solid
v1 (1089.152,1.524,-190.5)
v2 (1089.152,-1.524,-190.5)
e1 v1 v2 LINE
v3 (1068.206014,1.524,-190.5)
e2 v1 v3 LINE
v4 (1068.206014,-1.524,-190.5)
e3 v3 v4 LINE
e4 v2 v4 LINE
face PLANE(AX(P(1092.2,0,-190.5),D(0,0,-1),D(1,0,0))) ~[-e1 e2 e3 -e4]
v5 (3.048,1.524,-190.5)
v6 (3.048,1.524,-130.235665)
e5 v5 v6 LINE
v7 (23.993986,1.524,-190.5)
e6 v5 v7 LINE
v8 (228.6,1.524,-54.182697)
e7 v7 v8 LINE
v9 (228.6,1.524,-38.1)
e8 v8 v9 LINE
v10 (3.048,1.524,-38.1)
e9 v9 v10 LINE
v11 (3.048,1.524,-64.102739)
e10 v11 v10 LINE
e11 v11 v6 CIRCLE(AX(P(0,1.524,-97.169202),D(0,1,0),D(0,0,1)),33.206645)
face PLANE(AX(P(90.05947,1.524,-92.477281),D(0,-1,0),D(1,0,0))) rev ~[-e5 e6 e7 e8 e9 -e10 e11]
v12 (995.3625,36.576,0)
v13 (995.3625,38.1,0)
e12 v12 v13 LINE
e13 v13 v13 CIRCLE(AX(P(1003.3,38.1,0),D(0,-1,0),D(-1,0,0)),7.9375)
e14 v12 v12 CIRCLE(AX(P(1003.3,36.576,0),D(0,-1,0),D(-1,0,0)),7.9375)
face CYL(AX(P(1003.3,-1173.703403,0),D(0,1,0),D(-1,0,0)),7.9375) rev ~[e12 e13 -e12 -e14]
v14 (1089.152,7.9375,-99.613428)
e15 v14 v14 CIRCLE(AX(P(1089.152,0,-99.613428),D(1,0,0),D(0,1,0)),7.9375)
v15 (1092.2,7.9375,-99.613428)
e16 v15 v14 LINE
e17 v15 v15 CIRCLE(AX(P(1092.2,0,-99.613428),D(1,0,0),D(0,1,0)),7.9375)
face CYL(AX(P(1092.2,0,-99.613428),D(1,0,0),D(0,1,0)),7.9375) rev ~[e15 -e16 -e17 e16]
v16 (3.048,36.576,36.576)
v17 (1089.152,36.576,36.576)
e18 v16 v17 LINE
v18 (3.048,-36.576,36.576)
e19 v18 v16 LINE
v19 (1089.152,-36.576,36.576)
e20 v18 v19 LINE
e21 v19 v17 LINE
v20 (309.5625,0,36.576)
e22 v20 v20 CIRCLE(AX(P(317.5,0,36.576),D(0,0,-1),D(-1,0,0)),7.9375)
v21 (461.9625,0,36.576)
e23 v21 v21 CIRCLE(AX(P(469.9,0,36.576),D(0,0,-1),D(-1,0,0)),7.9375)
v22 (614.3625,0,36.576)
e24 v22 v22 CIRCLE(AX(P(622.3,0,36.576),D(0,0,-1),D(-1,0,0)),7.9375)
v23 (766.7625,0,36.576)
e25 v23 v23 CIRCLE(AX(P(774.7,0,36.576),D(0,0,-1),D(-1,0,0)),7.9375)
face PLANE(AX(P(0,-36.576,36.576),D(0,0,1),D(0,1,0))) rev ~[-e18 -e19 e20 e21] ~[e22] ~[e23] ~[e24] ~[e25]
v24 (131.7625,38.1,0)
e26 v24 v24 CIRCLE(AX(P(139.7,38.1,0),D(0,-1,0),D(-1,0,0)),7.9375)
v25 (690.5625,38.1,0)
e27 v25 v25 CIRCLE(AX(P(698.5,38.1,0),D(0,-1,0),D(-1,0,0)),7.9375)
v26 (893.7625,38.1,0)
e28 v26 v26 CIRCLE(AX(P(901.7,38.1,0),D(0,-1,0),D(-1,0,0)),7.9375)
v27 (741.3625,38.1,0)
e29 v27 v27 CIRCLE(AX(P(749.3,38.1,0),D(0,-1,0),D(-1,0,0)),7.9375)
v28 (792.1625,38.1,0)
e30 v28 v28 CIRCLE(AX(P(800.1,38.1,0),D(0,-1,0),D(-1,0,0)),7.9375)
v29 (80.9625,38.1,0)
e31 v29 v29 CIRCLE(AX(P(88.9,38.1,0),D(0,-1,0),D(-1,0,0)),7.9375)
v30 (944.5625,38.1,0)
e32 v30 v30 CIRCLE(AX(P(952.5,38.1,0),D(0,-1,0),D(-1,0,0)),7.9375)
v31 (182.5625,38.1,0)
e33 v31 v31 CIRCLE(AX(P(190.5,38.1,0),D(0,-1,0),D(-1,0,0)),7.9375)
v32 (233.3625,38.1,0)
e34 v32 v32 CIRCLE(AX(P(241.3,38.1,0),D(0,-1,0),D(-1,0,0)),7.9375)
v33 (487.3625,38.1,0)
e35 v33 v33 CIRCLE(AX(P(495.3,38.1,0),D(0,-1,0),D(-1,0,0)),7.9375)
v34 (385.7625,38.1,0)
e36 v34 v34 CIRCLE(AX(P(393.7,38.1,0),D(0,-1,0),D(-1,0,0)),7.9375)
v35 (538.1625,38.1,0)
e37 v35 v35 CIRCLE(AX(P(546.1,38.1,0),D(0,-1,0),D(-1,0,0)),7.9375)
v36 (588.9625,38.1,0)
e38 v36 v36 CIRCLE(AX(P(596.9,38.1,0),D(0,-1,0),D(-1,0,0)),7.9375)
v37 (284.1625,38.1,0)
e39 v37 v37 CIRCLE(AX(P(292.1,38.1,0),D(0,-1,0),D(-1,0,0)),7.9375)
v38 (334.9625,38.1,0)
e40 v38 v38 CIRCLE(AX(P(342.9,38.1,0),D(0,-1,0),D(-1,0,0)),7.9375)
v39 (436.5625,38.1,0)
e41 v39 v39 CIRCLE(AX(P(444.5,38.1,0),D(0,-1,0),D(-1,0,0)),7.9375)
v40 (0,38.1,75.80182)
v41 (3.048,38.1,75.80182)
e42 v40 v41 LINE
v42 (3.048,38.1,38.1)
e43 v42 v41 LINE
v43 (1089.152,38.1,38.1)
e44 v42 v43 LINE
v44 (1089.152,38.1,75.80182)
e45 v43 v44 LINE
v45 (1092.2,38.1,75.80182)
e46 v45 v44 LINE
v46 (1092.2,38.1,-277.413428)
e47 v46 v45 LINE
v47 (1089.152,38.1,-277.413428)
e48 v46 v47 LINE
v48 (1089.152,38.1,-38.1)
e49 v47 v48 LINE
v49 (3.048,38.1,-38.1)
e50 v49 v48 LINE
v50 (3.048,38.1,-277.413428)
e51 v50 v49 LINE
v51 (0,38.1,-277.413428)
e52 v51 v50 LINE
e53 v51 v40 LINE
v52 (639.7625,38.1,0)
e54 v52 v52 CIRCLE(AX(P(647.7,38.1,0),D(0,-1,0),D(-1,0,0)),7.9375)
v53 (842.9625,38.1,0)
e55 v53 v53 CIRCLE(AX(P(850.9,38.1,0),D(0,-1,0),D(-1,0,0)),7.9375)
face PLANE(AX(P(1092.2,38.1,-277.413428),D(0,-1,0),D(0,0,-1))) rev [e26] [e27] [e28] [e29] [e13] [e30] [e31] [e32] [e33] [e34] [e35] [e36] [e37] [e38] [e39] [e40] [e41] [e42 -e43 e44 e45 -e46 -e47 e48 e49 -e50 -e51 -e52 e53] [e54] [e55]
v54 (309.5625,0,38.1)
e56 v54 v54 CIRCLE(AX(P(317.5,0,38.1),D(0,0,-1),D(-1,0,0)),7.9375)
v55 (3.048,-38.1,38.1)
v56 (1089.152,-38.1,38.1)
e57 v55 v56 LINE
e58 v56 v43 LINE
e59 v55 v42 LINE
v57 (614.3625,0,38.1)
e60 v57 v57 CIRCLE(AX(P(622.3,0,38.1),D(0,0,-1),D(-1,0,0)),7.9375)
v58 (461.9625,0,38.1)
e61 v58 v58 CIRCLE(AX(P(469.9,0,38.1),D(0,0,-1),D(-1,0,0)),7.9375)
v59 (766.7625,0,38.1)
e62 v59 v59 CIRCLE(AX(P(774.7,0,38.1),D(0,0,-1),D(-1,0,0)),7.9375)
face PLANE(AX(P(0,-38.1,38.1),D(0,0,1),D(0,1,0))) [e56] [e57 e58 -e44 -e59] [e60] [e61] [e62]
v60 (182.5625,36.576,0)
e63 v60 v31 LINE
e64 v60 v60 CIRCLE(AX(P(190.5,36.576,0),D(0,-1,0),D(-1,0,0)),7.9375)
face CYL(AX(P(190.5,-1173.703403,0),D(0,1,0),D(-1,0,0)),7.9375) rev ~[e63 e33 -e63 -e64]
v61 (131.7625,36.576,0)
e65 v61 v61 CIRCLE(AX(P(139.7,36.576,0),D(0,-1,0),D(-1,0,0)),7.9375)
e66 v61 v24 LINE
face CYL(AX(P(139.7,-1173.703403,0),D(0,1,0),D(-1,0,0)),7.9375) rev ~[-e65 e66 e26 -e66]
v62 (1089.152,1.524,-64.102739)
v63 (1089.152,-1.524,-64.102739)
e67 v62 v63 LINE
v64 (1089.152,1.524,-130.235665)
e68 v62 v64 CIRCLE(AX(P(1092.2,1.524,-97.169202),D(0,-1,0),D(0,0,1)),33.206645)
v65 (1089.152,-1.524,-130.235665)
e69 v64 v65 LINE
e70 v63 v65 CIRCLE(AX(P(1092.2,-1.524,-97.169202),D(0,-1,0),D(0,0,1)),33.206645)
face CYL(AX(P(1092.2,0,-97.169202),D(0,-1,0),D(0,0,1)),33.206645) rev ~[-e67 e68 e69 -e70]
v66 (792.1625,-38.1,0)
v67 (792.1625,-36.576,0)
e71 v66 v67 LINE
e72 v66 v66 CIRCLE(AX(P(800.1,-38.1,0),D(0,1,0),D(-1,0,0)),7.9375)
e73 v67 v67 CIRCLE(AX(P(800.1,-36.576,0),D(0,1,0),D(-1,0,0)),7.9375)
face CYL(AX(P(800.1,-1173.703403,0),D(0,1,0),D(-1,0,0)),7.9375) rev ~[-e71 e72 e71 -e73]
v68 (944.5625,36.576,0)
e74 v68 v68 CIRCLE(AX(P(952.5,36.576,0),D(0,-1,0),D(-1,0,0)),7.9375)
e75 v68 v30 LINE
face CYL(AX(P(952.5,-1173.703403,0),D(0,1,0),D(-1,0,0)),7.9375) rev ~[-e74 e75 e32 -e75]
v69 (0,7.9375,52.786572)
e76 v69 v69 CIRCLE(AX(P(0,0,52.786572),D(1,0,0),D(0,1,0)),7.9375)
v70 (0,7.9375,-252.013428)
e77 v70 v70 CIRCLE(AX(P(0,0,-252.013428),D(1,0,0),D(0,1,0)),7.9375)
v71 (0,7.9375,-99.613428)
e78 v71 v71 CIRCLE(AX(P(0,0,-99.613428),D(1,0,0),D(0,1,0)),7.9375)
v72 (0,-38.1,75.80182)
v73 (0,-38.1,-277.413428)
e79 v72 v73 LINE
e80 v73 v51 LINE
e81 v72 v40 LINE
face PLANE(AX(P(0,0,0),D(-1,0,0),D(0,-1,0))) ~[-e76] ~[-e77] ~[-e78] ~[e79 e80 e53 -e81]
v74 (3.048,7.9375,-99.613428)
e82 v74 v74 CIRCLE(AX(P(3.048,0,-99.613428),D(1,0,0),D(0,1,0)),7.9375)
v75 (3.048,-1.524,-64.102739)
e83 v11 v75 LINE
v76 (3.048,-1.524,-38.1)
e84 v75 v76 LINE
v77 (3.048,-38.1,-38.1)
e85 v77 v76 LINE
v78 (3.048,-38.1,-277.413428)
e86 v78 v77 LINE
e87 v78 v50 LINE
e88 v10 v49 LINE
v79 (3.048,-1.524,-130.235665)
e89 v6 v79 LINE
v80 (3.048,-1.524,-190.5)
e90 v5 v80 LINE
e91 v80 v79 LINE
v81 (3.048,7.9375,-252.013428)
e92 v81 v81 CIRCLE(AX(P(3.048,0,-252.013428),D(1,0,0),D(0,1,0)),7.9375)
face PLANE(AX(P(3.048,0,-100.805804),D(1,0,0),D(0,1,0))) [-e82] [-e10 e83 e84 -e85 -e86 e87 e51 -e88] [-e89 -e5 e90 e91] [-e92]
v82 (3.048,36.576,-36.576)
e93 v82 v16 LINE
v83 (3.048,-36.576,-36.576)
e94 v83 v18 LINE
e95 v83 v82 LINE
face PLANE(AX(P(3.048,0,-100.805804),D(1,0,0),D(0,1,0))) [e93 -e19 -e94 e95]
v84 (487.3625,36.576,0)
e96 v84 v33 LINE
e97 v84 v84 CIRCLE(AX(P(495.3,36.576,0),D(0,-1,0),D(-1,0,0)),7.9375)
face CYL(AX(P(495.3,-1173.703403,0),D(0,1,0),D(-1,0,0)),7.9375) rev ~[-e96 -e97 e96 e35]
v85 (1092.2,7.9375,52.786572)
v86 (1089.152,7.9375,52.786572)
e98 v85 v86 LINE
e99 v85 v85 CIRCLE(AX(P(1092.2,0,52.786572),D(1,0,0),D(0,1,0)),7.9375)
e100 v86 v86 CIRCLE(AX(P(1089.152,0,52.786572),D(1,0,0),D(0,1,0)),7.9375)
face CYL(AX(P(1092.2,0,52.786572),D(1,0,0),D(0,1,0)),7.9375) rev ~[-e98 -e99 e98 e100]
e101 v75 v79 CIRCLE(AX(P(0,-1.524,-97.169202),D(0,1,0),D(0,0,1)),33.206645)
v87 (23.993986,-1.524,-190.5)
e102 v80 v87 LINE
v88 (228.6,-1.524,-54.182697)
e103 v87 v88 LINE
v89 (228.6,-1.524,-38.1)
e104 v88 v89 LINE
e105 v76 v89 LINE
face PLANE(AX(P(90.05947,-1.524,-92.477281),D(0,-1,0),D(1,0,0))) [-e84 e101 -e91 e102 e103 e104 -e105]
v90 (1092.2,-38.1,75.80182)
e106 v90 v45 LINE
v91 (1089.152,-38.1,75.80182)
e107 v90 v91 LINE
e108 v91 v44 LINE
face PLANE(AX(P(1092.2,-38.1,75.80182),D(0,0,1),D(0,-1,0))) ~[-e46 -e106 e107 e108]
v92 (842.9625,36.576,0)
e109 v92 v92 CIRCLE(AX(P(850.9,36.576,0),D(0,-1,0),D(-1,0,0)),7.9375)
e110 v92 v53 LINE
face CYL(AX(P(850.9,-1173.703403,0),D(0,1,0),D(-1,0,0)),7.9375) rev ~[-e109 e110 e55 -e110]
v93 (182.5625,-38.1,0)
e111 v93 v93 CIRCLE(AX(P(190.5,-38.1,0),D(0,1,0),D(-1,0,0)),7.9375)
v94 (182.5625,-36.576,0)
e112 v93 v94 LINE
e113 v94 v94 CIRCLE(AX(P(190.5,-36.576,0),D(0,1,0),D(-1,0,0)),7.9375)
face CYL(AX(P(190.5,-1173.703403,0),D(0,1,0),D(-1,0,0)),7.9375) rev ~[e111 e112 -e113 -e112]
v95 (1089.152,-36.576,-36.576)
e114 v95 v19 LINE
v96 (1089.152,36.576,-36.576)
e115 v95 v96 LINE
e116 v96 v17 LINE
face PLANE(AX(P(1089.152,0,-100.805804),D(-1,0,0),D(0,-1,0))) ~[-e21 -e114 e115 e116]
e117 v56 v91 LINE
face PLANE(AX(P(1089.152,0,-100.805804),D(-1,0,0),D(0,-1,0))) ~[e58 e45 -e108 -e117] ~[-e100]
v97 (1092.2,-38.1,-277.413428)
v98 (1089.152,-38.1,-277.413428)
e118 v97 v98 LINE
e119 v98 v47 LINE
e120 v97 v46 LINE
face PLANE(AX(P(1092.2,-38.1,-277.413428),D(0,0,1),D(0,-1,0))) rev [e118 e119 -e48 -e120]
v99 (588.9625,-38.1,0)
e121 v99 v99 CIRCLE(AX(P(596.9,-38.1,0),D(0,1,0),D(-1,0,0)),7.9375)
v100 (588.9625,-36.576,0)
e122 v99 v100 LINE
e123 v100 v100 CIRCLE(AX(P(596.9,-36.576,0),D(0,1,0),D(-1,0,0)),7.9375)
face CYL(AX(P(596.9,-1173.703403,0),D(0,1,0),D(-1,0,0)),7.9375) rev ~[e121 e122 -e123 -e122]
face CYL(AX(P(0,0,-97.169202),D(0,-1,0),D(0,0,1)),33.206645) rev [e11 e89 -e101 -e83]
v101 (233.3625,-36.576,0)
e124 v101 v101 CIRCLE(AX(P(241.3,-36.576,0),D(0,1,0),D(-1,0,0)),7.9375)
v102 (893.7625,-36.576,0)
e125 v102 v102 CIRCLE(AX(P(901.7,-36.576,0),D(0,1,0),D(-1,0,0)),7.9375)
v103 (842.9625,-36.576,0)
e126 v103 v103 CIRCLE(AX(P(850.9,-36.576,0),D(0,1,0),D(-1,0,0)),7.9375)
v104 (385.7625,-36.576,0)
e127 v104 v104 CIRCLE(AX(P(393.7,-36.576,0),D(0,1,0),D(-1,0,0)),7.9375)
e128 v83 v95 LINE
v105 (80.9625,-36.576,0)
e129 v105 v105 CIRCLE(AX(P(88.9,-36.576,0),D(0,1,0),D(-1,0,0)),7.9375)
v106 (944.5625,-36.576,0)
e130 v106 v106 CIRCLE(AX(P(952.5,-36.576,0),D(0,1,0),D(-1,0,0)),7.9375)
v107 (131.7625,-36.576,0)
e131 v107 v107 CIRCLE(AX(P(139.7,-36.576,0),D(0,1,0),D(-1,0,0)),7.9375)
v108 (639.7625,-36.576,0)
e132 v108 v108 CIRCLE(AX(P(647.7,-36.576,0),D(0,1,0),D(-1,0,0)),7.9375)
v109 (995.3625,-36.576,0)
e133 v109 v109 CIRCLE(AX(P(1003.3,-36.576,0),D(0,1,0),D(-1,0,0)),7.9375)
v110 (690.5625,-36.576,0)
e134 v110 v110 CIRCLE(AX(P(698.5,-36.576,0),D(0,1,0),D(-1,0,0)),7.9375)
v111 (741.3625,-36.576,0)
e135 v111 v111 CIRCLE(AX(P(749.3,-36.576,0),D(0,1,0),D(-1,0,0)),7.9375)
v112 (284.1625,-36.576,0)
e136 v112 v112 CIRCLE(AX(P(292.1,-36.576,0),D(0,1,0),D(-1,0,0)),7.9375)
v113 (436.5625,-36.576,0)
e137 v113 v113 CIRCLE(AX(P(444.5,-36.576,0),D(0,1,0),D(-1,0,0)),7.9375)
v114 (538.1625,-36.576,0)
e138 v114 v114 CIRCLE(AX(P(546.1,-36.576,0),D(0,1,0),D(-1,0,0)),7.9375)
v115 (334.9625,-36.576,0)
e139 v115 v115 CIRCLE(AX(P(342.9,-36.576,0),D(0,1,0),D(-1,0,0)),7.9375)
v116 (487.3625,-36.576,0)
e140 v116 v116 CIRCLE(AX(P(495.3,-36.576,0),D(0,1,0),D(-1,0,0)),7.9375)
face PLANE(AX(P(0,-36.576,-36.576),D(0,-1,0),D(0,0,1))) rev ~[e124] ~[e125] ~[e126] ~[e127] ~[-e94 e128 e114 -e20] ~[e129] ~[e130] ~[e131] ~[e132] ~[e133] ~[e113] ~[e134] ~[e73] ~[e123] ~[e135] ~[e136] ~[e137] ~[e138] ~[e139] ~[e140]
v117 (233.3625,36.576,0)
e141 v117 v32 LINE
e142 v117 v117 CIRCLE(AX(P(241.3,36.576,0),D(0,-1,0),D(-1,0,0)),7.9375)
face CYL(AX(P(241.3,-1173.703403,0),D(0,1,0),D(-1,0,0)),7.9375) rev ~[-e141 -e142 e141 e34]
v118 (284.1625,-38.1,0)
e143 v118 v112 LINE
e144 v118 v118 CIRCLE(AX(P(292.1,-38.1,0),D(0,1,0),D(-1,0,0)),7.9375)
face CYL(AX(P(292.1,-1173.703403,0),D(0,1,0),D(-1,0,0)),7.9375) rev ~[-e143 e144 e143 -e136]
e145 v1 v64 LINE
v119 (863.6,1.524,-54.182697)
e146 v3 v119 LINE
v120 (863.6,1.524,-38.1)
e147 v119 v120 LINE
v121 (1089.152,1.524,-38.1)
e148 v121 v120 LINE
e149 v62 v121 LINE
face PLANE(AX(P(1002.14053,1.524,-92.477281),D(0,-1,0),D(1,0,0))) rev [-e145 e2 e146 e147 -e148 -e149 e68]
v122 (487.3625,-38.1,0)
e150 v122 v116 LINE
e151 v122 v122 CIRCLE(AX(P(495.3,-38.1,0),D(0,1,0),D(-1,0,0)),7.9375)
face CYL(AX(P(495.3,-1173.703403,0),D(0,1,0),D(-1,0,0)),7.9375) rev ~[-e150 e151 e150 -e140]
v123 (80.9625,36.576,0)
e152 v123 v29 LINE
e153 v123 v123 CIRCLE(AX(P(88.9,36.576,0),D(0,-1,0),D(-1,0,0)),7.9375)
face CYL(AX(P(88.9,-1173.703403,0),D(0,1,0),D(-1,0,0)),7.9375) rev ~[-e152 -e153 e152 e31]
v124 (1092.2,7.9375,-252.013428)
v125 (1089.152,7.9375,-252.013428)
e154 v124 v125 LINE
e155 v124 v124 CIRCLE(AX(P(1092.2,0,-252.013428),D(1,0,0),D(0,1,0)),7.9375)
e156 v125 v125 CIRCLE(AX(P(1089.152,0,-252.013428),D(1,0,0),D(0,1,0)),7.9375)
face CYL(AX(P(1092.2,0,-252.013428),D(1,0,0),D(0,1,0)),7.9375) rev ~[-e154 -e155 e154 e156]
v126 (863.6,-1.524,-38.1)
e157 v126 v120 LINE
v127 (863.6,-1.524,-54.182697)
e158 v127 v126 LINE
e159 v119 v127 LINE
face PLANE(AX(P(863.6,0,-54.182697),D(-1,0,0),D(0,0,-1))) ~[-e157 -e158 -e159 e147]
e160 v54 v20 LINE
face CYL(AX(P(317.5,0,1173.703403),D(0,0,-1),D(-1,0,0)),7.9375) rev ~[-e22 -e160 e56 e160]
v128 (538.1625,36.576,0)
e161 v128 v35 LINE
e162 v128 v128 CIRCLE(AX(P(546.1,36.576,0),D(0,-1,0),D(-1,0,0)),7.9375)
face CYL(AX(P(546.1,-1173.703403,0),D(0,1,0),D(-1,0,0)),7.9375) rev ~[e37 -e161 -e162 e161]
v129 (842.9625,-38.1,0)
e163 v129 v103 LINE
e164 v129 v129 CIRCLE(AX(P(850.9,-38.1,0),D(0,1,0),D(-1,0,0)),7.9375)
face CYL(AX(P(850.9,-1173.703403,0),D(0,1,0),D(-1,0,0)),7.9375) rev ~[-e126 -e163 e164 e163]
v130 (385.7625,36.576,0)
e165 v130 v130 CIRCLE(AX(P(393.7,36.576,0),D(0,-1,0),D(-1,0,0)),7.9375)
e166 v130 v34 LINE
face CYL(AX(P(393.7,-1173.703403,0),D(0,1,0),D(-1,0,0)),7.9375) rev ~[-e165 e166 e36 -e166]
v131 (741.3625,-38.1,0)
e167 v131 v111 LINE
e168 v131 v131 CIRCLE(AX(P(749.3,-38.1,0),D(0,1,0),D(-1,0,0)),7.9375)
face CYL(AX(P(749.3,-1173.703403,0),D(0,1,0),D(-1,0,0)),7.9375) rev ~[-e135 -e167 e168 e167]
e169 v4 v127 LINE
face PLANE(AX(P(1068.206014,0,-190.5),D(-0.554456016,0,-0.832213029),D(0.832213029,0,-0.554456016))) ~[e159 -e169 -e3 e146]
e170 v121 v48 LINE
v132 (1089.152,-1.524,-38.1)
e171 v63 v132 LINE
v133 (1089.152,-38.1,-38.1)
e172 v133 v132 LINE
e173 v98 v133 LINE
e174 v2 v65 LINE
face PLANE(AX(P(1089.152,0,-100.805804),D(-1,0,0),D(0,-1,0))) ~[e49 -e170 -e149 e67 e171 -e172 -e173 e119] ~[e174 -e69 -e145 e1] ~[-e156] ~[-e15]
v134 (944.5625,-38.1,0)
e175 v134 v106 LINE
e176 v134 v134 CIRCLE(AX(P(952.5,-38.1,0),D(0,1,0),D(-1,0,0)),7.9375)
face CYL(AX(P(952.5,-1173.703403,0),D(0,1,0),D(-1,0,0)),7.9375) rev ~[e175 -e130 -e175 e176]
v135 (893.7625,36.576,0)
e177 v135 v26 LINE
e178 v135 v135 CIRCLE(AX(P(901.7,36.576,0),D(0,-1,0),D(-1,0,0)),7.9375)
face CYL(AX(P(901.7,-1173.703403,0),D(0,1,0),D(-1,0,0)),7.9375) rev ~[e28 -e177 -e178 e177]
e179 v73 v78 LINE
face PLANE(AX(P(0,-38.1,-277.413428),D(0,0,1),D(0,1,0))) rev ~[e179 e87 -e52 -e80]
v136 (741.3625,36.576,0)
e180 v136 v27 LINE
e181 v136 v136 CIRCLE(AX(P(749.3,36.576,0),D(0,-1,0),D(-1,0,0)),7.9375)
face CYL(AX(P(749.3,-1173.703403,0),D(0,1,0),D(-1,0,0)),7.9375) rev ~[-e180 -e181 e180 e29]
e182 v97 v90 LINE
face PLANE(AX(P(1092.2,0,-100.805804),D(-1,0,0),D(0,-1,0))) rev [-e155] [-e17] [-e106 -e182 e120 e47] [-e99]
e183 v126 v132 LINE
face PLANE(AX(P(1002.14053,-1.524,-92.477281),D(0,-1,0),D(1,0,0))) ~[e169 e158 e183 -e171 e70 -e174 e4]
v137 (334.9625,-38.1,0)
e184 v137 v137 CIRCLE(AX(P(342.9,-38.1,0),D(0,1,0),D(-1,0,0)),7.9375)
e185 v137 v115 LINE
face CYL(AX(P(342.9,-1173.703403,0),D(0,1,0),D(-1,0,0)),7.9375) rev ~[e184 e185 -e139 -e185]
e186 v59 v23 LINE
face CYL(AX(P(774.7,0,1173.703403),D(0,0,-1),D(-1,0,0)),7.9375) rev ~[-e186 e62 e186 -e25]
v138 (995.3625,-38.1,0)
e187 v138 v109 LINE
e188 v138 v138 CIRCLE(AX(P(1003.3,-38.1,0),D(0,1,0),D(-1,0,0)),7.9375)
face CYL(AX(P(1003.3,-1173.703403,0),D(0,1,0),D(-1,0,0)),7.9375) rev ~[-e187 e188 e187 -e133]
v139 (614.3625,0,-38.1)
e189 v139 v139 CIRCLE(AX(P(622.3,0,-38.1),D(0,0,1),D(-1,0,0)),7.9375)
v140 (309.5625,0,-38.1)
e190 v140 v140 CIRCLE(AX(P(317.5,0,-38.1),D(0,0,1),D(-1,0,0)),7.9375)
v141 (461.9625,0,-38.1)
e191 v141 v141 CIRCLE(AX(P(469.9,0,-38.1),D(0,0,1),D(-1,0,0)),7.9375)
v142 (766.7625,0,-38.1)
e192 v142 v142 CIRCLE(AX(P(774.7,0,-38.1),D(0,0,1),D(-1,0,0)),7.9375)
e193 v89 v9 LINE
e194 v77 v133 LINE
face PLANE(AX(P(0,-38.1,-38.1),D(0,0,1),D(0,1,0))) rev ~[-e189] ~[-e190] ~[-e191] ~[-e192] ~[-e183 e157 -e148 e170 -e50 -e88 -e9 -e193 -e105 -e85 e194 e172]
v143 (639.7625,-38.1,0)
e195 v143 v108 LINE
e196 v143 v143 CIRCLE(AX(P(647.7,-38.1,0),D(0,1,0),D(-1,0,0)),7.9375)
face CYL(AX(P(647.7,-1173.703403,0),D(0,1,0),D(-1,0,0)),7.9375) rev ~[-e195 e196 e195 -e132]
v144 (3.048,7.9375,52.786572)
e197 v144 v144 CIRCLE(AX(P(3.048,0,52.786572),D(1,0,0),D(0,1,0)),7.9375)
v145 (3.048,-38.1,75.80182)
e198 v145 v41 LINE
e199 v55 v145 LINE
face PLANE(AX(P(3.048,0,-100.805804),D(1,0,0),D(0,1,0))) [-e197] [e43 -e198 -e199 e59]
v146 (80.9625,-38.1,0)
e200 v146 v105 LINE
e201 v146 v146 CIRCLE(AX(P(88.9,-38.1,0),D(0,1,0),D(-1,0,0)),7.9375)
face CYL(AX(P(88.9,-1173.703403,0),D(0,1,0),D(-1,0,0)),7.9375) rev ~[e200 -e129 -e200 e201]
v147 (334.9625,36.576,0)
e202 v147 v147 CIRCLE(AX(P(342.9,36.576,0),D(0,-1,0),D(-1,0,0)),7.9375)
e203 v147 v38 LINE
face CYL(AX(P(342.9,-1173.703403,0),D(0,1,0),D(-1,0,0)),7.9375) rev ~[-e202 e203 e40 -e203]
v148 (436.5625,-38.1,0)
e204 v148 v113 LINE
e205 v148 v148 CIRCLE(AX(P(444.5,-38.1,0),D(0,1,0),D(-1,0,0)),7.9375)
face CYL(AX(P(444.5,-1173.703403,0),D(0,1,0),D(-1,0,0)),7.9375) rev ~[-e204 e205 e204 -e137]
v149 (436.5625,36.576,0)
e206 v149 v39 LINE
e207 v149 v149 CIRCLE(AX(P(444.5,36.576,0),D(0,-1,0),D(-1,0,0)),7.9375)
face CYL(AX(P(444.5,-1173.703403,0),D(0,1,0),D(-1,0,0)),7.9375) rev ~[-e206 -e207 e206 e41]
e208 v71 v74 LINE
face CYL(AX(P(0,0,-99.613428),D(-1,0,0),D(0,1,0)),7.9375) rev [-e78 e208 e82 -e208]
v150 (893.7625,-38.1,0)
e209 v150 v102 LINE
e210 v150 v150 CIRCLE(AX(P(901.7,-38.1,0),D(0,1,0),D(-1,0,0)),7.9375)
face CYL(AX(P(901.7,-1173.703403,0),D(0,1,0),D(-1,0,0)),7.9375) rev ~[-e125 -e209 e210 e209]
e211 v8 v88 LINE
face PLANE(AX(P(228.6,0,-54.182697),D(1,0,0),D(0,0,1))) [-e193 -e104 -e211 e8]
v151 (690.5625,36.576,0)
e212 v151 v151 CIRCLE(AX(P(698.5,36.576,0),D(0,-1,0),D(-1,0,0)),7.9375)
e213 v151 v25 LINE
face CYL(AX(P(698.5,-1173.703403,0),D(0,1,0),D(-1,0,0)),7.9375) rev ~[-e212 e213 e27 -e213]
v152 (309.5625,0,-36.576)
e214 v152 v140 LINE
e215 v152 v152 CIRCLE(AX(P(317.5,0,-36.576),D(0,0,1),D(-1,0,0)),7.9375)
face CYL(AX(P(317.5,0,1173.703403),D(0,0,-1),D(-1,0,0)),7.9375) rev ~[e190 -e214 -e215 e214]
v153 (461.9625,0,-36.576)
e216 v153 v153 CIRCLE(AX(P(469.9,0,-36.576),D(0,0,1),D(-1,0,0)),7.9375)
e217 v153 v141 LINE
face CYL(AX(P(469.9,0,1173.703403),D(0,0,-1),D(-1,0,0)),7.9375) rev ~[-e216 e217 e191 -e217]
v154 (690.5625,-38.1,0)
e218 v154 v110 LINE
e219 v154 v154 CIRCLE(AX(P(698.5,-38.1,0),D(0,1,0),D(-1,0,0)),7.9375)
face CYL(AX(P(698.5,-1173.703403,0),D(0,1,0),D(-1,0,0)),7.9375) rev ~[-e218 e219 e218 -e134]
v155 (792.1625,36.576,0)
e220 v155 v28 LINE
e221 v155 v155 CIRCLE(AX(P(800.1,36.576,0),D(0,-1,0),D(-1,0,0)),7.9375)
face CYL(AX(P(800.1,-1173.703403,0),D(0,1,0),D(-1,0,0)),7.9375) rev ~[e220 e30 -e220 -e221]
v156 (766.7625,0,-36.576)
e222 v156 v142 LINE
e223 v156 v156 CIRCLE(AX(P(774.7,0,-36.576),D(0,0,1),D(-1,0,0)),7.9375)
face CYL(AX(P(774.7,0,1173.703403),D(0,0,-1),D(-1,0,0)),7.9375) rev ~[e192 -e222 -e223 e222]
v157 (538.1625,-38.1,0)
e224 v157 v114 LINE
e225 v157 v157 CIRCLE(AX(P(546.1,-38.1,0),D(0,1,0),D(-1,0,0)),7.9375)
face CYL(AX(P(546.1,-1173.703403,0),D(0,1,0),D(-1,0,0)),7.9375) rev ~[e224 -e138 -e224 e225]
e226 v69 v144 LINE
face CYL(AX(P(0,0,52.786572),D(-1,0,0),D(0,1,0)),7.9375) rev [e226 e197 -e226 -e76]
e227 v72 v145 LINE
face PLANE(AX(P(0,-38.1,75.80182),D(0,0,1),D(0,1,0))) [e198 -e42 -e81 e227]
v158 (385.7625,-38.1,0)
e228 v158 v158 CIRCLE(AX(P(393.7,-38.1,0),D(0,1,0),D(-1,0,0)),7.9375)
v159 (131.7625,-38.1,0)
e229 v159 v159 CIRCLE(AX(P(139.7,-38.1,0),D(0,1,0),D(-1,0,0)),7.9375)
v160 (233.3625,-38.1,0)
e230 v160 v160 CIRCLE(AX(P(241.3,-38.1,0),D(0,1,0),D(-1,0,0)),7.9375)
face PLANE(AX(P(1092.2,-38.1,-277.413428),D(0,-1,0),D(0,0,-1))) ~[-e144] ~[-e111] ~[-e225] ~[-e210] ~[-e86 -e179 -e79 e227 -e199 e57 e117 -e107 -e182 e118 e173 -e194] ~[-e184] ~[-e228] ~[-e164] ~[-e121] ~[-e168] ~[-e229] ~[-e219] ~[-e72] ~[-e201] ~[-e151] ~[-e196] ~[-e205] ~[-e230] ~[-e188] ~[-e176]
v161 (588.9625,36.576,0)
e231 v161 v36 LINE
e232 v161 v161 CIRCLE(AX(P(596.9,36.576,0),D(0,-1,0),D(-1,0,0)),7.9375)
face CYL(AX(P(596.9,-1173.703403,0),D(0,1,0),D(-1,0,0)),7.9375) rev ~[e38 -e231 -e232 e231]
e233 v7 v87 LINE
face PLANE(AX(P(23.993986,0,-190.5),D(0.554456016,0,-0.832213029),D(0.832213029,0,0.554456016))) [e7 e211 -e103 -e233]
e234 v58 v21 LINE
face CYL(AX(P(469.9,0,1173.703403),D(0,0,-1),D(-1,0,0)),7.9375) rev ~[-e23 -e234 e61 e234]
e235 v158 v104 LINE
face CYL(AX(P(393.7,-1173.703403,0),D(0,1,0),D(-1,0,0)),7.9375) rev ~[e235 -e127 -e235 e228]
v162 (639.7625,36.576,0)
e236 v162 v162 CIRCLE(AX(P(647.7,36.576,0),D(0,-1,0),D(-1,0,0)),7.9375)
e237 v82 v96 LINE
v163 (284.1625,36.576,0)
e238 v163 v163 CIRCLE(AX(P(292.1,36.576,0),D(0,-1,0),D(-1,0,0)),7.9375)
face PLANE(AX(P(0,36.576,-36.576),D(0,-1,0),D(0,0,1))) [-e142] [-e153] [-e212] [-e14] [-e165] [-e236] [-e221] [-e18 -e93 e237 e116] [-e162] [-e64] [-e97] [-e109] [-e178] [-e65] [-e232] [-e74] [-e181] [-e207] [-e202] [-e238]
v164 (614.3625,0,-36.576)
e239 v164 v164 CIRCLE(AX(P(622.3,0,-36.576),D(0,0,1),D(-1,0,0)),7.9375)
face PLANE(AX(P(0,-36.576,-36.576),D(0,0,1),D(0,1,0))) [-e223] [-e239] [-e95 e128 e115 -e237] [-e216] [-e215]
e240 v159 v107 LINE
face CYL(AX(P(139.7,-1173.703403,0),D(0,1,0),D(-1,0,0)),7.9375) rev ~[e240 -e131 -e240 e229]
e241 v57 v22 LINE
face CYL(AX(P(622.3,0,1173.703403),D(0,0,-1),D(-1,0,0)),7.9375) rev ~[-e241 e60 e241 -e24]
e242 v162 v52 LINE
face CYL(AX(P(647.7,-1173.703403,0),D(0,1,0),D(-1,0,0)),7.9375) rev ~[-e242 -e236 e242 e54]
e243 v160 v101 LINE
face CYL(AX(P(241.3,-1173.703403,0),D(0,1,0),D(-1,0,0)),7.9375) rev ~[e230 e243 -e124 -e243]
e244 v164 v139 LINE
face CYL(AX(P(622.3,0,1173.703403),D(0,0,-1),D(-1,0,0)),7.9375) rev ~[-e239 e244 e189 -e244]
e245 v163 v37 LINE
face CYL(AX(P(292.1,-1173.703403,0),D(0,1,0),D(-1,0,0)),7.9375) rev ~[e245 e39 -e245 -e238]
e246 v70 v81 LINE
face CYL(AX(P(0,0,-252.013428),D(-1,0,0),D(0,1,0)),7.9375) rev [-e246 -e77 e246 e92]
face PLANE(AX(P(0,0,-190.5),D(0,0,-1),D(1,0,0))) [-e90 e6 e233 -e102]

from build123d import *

# Parameters (mm, degrees)
F0_W       = 76.2
F0_H       = 76.2
F0_W_2     = 73.152
F0_H_2     = 73.152
F1_DEPTH   = 1092.2
F6_D       = 15.875
F6_ON_F5_D = 15.875
F8_DEPTH   = 1.524
F9_DEPTH   = 1.524
F10_W      = 76.2
F10_H      = 353.2152473927
F10_R      = 7.9375
F11_DEPTH  = 3.048


with BuildPart() as f1:
    # F0 (on Right) → F1 (new body)
    with BuildSketch(Plane.YZ):
        Rectangle(F0_W, F0_H)
        Rectangle(F0_W_2, F0_H_2, mode=Mode.SUBTRACT)
    extrude(amount=F1_DEPTH)

    # F6 (through all)
    with Locations(Plane.XZ.offset(76.2)):
        with Locations((38.1, 0), (88.9, 0), (139.7, 0), (190.5, 0), (241.3, 0), (292.1, 0), (342.9, 0), (393.7, 0), (444.5, 0), (495.3, 0), (546.1, 0), (596.9, 0), (647.7, 0), (698.5, 0), (749.3, 0), (800.1, 0), (850.9, 0), (901.7, 0), (952.5, 0), (1003.3, 0)):
            Hole(F6_D / 2)

    # F6 on F5 (through all)
    with Locations(Plane.XY.offset(76.2)):
        with Locations((317.5, 0), (469.9, 0), (622.3, 0), (774.7, 0), (927.1, 0)):
            Hole(F6_ON_F5_D / 2)

    # F7 (on Front) → F8 (join)
    with BuildSketch(Plane.XZ):
        with BuildLine():
            Line((228.6, -38.1), (0, -38.1))
            Line((0, -38.1), (0, -63.9625564218))
            ThreePointArc((0, -63.9625564218), (33.2066453993, -97.1692018211), (0, -130.3758472204))
            Line((0, -130.3758472204), (0, -190.5))
            Line((0, -190.5), (23.9939857274, -190.5))
            Line((23.9939857274, -190.5), (228.6, -54.1826970875))
            Line((228.6, -54.1826970875), (228.6, -38.1))
        make_face()
    extrude(amount=F8_DEPTH)

    # F7 (on Front) → F9 (join)
    with BuildSketch(Plane.XZ):
        with BuildLine():
            Line((228.6, -38.1), (0, -38.1))
            Line((0, -38.1), (0, -63.9625564218))
            ThreePointArc((0, -63.9625564218), (33.2066453993, -97.1692018211), (0, -130.3758472204))
            Line((0, -130.3758472204), (0, -190.5))
            Line((0, -190.5), (23.9939857274, -190.5))
            Line((23.9939857274, -190.5), (228.6, -54.1826970875))
            Line((228.6, -54.1826970875), (228.6, -38.1))
        make_face()
    extrude(amount=-F9_DEPTH)

    # F10 (on Right) → F11 (join)
    with BuildSketch(Plane.YZ):
        with Locations((0, -100.8058041334)):
            Rectangle(F10_W, F10_H)
        with Locations((0, -252.0134278297)):
            Circle(F10_R, mode=Mode.SUBTRACT)
        with Locations((0, -99.6134278297)):
            Circle(F10_R, mode=Mode.SUBTRACT)
        with Locations((0, 52.7865721703)):
            Circle(F10_R, mode=Mode.SUBTRACT)
    extrude(amount=F11_DEPTH)

    # F13: F1 across plane


with BuildPart() as f1_1:
    add(f1.part)
    add(f1.part.mirror(Plane.YZ.offset(546.1)))


solid = f1_1.part
